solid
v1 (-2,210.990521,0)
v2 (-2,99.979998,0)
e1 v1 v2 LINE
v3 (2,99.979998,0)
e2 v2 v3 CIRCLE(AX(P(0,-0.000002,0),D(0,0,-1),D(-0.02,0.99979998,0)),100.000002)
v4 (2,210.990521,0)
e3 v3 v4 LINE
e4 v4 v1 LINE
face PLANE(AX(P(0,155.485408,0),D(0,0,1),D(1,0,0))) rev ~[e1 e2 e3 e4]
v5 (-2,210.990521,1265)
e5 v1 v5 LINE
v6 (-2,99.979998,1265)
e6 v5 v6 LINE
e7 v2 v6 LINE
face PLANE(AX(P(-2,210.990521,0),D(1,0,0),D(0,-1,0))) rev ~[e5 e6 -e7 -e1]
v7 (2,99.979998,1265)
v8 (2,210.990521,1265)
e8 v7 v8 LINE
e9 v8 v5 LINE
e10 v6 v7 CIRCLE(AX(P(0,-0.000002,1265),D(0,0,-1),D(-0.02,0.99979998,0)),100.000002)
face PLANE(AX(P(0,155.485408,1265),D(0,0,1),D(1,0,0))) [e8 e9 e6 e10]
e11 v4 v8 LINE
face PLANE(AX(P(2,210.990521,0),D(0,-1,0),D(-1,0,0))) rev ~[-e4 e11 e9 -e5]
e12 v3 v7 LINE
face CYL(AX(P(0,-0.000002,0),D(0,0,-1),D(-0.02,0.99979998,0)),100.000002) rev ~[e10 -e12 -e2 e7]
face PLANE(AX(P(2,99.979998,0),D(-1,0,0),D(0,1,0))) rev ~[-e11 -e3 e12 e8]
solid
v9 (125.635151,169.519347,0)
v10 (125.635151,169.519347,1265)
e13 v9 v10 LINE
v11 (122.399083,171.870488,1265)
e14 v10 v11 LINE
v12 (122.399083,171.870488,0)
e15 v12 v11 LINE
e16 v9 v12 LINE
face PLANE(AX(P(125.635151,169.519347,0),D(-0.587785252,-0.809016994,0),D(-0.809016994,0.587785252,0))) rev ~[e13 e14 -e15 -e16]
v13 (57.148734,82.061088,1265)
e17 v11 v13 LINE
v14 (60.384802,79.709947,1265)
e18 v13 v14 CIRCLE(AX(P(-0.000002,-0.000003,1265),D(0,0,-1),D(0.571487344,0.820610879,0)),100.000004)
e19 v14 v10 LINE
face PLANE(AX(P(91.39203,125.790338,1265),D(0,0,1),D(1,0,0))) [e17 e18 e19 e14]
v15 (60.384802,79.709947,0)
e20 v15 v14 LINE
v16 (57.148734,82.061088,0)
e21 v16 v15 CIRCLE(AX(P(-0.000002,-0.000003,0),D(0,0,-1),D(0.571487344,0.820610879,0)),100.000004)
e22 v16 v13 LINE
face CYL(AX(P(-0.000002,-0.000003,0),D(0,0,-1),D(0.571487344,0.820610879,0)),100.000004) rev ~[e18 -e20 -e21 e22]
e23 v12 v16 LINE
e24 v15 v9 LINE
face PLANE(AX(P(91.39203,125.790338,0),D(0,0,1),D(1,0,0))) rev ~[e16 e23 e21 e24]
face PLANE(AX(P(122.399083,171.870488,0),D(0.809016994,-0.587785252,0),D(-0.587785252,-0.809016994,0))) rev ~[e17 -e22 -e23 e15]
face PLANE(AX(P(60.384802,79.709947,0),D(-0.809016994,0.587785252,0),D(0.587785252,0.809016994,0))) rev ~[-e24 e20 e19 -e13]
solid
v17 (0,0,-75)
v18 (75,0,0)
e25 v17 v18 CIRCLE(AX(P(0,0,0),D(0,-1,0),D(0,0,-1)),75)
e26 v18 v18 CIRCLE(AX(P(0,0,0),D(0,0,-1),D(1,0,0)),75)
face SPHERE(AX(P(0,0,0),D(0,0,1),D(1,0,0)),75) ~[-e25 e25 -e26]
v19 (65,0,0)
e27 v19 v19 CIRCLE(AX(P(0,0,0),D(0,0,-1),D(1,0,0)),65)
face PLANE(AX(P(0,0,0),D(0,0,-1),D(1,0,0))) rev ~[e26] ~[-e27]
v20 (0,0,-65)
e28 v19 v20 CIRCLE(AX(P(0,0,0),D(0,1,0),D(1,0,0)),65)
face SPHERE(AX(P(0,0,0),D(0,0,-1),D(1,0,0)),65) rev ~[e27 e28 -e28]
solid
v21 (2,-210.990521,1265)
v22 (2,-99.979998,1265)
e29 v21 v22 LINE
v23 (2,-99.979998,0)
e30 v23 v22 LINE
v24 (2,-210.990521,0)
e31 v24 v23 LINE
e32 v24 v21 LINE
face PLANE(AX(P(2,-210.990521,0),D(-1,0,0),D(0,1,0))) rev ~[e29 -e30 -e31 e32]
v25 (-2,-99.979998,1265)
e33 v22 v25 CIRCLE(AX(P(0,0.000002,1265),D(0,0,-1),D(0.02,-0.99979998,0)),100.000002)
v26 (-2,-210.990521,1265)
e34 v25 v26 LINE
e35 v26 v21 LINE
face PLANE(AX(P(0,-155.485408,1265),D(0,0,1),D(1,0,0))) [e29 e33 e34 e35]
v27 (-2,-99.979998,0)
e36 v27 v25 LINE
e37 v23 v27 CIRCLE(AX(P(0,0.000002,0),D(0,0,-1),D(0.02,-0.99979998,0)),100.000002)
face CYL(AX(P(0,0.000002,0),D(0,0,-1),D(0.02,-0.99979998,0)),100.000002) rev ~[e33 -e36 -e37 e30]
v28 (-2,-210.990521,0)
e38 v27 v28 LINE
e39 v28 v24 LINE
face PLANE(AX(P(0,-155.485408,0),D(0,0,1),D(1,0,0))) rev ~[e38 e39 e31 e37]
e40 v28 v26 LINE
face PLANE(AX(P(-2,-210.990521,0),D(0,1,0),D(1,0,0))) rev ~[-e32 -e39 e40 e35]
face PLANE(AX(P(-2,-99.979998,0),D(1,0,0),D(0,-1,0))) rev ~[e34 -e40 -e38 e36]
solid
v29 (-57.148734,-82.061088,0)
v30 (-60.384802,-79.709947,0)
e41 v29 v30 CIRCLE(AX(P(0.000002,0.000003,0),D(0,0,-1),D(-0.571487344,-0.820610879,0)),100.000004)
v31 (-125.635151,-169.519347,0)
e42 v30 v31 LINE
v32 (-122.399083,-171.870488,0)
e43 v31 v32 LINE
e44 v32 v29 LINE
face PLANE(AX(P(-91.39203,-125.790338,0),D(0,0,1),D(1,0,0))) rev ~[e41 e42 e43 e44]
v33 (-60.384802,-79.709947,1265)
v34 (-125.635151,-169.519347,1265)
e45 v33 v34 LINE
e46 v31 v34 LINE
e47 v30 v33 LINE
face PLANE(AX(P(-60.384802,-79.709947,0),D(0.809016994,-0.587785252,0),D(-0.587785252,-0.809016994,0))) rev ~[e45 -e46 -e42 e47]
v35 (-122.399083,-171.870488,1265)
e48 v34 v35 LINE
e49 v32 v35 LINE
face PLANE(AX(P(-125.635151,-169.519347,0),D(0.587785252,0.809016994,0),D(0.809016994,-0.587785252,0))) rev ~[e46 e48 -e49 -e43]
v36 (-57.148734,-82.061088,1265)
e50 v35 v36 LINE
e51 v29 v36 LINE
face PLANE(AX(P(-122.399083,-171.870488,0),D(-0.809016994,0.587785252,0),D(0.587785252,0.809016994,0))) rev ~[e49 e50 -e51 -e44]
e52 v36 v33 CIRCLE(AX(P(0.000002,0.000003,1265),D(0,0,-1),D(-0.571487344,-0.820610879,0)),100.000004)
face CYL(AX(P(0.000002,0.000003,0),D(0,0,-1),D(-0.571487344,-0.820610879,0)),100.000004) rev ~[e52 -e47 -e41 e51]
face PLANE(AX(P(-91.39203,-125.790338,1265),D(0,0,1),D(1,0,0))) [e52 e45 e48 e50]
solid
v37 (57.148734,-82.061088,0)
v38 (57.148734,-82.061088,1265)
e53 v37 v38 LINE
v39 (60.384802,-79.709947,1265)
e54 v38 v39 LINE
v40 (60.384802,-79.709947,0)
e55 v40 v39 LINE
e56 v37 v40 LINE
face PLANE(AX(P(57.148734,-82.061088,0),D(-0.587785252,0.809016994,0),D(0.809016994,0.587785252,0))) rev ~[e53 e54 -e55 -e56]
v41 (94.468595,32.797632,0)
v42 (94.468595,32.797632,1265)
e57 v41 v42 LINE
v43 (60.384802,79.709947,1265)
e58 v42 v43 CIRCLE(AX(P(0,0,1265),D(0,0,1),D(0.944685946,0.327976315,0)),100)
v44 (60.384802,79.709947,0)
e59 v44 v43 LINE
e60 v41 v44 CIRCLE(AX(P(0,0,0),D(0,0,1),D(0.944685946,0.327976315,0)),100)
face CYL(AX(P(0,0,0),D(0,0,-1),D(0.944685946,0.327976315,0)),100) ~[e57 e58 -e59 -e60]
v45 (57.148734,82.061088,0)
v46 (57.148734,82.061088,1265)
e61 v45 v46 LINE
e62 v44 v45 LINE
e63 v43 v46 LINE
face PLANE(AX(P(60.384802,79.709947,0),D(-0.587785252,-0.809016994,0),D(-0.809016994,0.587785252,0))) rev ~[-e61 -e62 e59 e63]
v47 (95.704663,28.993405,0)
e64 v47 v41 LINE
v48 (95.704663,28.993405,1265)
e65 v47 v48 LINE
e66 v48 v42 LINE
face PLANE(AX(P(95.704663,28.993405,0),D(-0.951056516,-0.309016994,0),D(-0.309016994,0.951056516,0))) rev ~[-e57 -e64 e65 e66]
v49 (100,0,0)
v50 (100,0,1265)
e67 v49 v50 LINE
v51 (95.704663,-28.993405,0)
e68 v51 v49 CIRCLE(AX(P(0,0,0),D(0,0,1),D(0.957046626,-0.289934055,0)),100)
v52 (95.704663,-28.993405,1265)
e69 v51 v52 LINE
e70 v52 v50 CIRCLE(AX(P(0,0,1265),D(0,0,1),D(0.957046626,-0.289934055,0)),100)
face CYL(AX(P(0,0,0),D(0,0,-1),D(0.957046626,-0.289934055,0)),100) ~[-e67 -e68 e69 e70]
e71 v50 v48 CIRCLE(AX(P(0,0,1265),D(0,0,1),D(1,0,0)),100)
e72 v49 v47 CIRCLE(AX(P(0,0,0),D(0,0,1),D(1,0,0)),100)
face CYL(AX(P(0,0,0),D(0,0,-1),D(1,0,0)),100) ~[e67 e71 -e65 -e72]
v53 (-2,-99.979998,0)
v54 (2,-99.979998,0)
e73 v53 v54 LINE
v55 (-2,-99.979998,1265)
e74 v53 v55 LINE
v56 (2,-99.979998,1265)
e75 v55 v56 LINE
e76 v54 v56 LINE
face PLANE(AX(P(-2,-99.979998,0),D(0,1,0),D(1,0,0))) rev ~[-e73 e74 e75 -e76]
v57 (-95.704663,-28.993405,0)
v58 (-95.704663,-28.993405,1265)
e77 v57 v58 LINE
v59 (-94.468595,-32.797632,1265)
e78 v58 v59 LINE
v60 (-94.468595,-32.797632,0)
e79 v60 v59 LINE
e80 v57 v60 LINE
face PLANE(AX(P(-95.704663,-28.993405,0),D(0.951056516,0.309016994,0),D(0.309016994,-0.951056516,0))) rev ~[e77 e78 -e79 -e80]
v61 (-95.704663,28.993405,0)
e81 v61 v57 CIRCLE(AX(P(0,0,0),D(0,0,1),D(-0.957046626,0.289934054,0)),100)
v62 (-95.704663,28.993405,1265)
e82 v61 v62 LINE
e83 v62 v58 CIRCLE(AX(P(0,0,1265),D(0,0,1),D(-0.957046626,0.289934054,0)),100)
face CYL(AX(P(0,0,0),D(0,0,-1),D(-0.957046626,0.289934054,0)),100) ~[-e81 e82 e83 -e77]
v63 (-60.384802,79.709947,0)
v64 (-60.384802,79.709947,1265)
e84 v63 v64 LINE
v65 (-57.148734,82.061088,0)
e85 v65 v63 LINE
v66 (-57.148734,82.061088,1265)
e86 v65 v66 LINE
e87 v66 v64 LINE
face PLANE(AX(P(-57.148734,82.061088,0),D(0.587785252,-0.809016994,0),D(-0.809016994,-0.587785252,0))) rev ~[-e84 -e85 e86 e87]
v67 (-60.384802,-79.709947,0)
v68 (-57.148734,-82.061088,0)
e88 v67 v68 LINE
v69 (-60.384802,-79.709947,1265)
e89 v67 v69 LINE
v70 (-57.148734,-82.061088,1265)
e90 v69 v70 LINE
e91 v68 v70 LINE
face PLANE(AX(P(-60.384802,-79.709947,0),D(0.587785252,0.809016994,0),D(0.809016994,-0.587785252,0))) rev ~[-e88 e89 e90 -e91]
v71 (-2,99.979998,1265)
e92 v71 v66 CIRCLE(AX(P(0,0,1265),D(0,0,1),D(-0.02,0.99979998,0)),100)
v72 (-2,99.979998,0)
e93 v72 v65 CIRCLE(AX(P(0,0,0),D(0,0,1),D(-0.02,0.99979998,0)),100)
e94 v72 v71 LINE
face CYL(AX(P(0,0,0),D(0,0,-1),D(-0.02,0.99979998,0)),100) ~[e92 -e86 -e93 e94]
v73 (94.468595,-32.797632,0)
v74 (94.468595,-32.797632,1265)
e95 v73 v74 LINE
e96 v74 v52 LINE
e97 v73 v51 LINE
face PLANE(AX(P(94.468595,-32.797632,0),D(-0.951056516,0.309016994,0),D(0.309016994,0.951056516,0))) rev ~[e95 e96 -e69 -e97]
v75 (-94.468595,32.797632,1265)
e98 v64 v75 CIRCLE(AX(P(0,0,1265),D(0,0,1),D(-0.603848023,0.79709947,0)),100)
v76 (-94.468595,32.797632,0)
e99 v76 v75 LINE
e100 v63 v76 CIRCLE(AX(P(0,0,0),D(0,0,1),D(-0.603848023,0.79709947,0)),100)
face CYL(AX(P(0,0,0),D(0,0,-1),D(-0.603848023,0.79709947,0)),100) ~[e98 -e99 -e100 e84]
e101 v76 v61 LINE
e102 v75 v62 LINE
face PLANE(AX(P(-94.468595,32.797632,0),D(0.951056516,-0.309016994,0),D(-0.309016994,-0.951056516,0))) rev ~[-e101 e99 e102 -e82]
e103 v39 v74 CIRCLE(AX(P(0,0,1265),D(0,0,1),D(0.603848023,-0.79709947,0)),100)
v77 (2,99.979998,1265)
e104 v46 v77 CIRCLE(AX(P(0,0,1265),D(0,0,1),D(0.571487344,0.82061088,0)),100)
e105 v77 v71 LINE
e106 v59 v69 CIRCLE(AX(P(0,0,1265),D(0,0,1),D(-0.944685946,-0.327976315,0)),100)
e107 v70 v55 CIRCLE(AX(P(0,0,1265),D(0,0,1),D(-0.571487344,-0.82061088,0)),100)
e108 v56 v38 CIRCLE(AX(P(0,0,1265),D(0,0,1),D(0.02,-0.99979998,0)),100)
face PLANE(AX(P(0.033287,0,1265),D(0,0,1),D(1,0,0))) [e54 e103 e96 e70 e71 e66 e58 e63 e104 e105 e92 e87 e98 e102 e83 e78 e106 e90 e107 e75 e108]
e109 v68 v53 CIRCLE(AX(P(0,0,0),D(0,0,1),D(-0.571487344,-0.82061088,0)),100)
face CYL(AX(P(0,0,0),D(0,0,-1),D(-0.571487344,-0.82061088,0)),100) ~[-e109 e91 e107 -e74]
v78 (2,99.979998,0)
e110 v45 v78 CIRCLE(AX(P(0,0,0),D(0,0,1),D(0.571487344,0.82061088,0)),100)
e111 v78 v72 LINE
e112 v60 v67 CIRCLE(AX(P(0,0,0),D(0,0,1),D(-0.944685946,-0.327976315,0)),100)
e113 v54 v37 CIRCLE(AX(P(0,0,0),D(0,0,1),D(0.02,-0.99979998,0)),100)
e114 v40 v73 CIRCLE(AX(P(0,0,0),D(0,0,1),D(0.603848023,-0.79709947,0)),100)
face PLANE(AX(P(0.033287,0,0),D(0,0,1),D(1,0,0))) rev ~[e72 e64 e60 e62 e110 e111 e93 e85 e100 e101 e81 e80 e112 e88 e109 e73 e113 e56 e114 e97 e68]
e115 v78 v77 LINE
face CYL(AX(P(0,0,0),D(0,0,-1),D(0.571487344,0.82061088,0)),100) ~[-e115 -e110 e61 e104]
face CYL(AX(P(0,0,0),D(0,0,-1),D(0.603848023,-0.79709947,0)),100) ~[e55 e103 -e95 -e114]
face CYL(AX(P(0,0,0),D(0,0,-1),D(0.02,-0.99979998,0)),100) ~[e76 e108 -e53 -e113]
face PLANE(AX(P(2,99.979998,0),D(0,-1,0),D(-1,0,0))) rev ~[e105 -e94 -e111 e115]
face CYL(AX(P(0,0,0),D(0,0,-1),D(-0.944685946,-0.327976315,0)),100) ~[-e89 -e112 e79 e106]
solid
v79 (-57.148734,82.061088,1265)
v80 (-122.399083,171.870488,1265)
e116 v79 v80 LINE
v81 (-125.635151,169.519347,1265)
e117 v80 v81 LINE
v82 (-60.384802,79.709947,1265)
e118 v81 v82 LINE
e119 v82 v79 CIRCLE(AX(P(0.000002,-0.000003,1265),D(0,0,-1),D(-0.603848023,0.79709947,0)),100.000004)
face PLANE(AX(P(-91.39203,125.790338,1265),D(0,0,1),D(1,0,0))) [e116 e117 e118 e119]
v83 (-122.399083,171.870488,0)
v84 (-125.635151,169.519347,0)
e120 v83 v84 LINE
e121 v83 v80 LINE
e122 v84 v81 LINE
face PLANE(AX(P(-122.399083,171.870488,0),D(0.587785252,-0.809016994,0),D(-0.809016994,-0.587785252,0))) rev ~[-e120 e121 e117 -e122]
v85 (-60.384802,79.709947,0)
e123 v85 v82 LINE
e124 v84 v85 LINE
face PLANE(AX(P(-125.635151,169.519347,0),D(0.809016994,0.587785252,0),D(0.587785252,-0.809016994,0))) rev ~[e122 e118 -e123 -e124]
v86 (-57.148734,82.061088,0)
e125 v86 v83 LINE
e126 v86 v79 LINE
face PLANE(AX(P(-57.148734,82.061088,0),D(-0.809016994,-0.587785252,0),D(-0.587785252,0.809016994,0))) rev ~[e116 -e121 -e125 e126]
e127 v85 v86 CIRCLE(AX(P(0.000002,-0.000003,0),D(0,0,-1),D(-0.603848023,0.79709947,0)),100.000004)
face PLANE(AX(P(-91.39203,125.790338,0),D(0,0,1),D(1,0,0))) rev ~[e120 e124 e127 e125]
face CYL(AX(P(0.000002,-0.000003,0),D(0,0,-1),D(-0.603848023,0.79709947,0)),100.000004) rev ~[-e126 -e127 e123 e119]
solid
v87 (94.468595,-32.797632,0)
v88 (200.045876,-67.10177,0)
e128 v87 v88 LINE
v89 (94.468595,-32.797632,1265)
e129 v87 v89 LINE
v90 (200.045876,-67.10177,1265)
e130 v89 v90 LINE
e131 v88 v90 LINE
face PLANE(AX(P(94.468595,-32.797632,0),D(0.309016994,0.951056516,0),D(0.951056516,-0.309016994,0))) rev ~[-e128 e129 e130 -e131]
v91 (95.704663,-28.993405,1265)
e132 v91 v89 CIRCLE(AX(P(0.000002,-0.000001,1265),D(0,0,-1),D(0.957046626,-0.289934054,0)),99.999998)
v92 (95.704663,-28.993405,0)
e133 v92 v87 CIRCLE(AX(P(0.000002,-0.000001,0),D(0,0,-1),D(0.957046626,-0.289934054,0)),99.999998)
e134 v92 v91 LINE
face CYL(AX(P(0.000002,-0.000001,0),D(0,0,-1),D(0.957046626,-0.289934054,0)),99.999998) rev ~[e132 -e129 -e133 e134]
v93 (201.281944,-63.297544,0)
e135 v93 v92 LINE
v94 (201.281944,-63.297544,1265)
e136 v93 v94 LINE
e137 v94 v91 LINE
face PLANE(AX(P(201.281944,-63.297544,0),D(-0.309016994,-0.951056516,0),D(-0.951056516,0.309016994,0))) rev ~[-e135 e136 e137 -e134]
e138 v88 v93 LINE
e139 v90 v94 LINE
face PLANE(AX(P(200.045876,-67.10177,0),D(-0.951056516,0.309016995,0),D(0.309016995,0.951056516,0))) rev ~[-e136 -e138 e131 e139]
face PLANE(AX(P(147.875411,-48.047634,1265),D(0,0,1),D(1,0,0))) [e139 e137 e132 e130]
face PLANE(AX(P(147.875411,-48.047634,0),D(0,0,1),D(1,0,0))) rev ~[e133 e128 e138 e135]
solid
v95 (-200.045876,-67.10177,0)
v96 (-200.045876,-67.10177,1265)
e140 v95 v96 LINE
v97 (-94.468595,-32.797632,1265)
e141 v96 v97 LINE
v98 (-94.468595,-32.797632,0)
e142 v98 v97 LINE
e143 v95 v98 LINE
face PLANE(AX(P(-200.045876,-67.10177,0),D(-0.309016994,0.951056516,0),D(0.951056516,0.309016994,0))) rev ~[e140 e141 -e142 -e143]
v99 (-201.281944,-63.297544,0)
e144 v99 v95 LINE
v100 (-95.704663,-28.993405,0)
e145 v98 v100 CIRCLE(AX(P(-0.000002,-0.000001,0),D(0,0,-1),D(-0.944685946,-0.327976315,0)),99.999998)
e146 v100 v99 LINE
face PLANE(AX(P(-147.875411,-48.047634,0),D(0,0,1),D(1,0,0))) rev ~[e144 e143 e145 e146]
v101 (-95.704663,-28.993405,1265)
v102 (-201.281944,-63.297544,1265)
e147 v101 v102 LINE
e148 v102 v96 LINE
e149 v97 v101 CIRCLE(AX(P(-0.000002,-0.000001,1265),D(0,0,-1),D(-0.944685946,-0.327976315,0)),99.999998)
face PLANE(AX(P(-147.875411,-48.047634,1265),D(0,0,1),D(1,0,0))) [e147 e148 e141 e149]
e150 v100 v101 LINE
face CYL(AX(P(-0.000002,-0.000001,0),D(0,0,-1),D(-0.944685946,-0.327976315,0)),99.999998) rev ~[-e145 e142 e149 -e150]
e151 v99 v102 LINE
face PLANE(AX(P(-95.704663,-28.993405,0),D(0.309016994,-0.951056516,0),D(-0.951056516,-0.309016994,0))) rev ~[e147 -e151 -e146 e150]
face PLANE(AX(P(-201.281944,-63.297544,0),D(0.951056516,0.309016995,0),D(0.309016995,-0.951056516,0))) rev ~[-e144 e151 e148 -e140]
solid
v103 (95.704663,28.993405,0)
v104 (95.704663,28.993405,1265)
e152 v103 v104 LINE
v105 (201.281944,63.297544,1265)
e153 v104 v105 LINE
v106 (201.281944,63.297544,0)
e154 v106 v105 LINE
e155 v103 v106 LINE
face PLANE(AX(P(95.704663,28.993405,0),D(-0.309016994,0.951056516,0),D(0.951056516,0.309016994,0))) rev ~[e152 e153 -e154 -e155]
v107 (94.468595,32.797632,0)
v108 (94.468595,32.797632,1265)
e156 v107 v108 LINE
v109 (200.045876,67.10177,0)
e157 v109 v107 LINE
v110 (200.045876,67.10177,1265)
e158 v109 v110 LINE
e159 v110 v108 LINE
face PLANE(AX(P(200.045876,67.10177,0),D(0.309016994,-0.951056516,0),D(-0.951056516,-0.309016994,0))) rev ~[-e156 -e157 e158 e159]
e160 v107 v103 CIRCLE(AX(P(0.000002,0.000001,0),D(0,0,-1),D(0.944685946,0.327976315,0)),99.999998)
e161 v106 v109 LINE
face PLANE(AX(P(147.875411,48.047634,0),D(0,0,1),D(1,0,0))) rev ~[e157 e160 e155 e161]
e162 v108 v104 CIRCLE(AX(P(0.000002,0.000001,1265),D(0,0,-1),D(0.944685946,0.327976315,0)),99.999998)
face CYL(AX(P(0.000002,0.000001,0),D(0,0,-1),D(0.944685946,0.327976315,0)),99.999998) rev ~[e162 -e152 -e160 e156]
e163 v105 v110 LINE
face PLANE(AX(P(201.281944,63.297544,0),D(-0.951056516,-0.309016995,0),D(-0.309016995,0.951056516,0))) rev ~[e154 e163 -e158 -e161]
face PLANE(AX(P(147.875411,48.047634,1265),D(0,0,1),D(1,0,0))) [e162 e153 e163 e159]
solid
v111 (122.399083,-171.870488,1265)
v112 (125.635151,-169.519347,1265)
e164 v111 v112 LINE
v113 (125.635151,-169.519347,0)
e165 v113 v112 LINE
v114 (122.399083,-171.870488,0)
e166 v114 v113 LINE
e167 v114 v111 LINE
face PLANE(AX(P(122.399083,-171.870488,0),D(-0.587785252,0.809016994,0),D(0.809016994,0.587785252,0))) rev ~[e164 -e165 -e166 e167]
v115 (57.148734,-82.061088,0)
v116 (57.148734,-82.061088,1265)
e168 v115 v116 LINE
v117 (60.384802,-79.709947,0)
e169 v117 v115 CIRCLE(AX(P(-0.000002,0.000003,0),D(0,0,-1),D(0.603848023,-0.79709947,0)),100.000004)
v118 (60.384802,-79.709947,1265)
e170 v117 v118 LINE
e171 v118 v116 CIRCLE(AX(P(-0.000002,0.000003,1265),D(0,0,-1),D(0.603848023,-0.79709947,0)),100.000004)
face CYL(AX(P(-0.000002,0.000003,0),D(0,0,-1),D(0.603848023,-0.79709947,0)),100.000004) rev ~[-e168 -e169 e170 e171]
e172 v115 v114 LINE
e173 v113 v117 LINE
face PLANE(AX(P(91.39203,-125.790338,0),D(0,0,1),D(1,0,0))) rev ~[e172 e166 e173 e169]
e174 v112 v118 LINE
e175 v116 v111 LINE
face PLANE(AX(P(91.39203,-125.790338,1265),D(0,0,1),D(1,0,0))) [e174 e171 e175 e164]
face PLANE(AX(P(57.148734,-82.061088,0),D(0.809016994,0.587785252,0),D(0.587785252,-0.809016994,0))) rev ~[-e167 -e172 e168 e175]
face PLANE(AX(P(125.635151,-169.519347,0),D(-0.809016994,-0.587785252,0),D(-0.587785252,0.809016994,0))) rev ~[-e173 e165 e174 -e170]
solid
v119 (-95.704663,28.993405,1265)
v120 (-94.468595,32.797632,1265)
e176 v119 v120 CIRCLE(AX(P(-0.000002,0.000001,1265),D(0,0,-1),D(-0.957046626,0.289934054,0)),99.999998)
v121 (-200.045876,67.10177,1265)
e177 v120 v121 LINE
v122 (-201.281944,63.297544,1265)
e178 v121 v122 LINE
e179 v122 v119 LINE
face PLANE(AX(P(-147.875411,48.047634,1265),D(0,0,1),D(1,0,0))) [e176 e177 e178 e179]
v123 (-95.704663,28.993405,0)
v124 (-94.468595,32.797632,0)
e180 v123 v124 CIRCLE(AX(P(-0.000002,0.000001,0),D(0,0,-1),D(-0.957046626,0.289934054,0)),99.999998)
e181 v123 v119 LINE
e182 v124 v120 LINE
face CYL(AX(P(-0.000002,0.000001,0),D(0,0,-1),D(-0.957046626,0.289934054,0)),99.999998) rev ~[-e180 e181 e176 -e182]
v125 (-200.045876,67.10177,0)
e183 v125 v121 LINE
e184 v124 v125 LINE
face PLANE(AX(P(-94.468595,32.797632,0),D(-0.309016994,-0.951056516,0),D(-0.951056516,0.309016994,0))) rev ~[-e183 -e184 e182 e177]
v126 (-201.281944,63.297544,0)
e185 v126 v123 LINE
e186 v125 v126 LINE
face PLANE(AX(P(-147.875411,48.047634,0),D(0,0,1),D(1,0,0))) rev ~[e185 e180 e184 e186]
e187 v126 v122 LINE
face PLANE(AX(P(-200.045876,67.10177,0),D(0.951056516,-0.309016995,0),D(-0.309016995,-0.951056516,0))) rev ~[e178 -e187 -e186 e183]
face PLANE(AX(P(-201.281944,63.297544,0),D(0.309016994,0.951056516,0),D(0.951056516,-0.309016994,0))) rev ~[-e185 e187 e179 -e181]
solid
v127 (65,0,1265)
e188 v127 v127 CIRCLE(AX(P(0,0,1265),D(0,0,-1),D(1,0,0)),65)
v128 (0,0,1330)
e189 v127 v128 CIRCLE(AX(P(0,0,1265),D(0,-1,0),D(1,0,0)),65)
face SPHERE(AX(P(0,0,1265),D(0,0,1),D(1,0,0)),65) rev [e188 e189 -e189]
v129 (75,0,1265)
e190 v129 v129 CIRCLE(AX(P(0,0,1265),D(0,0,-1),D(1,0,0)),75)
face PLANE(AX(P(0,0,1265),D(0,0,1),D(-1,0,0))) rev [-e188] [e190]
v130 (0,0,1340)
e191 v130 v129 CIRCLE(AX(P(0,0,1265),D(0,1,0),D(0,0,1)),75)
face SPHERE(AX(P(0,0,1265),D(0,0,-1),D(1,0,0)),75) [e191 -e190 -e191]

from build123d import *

# Parameters (mm, degrees)
BOSS_EXTRUDE1_DEPTH    = 1265
BOSS_EXTRUDE1_2_DEPTH  = 1265
BOSS_EXTRUDE1_3_DEPTH  = 1265
BOSS_EXTRUDE1_4_DEPTH  = 1265
BOSS_EXTRUDE1_5_DEPTH  = 1265
BOSS_EXTRUDE1_6_DEPTH  = 1265
BOSS_EXTRUDE1_7_DEPTH  = 1265
BOSS_EXTRUDE1_8_DEPTH  = 1265
BOSS_EXTRUDE1_9_DEPTH  = 1265
BOSS_EXTRUDE1_10_DEPTH = 1265
BOSS_EXTRUDE1_11_DEPTH = 1265


with BuildPart() as part:
    # Sketch1 → Boss-Extrude1 (new body)
    with BuildSketch(Plane.XY):
        with BuildLine():
            ThreePointArc((-2, 99.979998), (0, 100), (2, 99.979998))
            Line((2, 99.979998), (2, 210.990521114))
            Line((2, 210.990521114), (-2, 210.990521114))
            Line((-2, 210.990521114), (-2, 99.979998))
        make_face()
    extrude(amount=BOSS_EXTRUDE1_DEPTH)


with BuildPart() as body_2:
    # Sketch1 → Boss-Extrude1 2 (new body)
    with BuildSketch(Plane.XY):
        with BuildLine():
            ThreePointArc((-60.384802337, 79.709946975), (-58.778525229, 80.901699437), (-57.14873436, 82.061087984))
            Line((-57.14873436, 82.061087984), (-122.399082696, 171.870487738))
            Line((-122.399082696, 171.870487738), (-125.635150673, 169.519346729))
            Line((-125.635150673, 169.519346729), (-60.384802337, 79.709946975))
        make_face()
    extrude(amount=BOSS_EXTRUDE1_2_DEPTH)


with BuildPart() as body_3:
    # Sketch1 → Boss-Extrude1 3 (new body)
    with BuildSketch(Plane.XY):
        with BuildLine():
            ThreePointArc((-95.704662585, 28.993405447), (-95.10565163, 30.901699437), (-94.468594608, 32.797631512))
            Line((-94.468594608, 32.797631512), (-200.045875993, 67.101769709))
            Line((-200.045875993, 67.101769709), (-201.281943971, 63.297543644))
            Line((-201.281943971, 63.297543644), (-95.704662585, 28.993405447))
        make_face()
    extrude(amount=BOSS_EXTRUDE1_3_DEPTH)


with BuildPart() as body_4:
    # Sketch1 → Boss-Extrude1 4 (new body)
    with BuildSketch(Plane.XY):
        with BuildLine():
            Line((122.399082696, 171.870487738), (57.14873436, 82.061087984))
            ThreePointArc((57.14873436, 82.061087984), (58.778525229, 80.901699437), (60.384802337, 79.709946975))
            Line((60.384802337, 79.709946975), (125.635150673, 169.519346729))
            Line((125.635150673, 169.519346729), (122.399082696, 171.870487738))
        make_face()
    extrude(amount=BOSS_EXTRUDE1_4_DEPTH)


with BuildPart() as body_5:
    # Sketch1 → Boss-Extrude1 5 (new body)
    with BuildSketch(Plane.XY):
        with BuildLine():
            Line((200.045875993, 67.101769709), (94.468594608, 32.797631512))
            ThreePointArc((94.468594608, 32.797631512), (95.10565163, 30.901699437), (95.704662585, 28.993405447))
            Line((95.704662585, 28.993405447), (201.281943971, 63.297543644))
            Line((201.281943971, 63.297543644), (200.045875993, 67.101769709))
        make_face()
    extrude(amount=BOSS_EXTRUDE1_5_DEPTH)


with BuildPart() as body_6:
    # Sketch1 → Boss-Extrude1 6 (new body)
    with BuildSketch(Plane.XY):
        with BuildLine():
            Line((201.281943971, -63.297543644), (95.704662585, -28.993405447))
            ThreePointArc((95.704662585, -28.993405447), (95.10565163, -30.901699437), (94.468594608, -32.797631512))
            Line((94.468594608, -32.797631512), (200.045875993, -67.101769709))
            Line((200.045875993, -67.101769709), (201.281943971, -63.297543644))
        make_face()
    extrude(amount=BOSS_EXTRUDE1_6_DEPTH)


with BuildPart() as body_7:
    # Sketch1 → Boss-Extrude1 7 (new body)
    with BuildSketch(Plane.XY):
        with BuildLine():
            Line((125.635150673, -169.519346729), (60.384802337, -79.709946975))
            ThreePointArc((60.384802337, -79.709946975), (58.778525229, -80.901699437), (57.14873436, -82.061087984))
            Line((57.14873436, -82.061087984), (122.399082696, -171.870487738))
            Line((122.399082696, -171.870487738), (125.635150673, -169.519346729))
        make_face()
    extrude(amount=BOSS_EXTRUDE1_7_DEPTH)


with BuildPart() as body_8:
    # Sketch1 → Boss-Extrude1 8 (new body)
    with BuildSketch(Plane.XY):
        with BuildLine():
            Line((2, -210.990521114), (2, -99.979998))
            ThreePointArc((2, -99.979998), (0, -100), (-2, -99.979998))
            Line((-2, -99.979998), (-2, -210.990521114))
            Line((-2, -210.990521114), (2, -210.990521114))
        make_face()
    extrude(amount=BOSS_EXTRUDE1_8_DEPTH)


with BuildPart() as body_9:
    # Sketch1 → Boss-Extrude1 9 (new body)
    with BuildSketch(Plane.XY):
        with BuildLine():
            ThreePointArc((-57.14873436, -82.061087984), (-58.778525229, -80.901699437), (-60.384802337, -79.709946975))
            Line((-60.384802337, -79.709946975), (-125.635150673, -169.519346729))
            Line((-125.635150673, -169.519346729), (-122.399082696, -171.870487738))
            Line((-122.399082696, -171.870487738), (-57.14873436, -82.061087984))
        make_face()
    extrude(amount=BOSS_EXTRUDE1_9_DEPTH)


with BuildPart() as body_10:
    # Sketch1 → Boss-Extrude1 10 (new body)
    with BuildSketch(Plane.XY):
        with BuildLine():
            ThreePointArc((-94.468594608, -32.797631512), (-95.10565163, -30.901699437), (-95.704662585, -28.993405447))
            Line((-95.704662585, -28.993405447), (-201.281943971, -63.297543644))
            Line((-201.281943971, -63.297543644), (-200.045875993, -67.101769709))
            Line((-200.045875993, -67.101769709), (-94.468594608, -32.797631512))
        make_face()
    extrude(amount=BOSS_EXTRUDE1_10_DEPTH)


with BuildPart() as body_11:
    # Sketch1 → Boss-Extrude1 11 (new body)
    with BuildSketch(Plane.XY):
        with BuildLine():
            Line((60.384802337, 79.709946975), (57.14873436, 82.061087984))
            ThreePointArc((57.14873436, 82.061087984), (30.901699437, 95.10565163), (2, 99.979998))
            Line((2, 99.979998), (-2, 99.979998))
            ThreePointArc((-2, 99.979998), (-30.901699437, 95.10565163), (-57.14873436, 82.061087984))
            Line((-57.14873436, 82.061087984), (-60.384802337, 79.709946975))
            ThreePointArc((-60.384802337, 79.709946975), (-80.901699437, 58.778525229), (-94.468594608, 32.797631512))
            Line((-94.468594608, 32.797631512), (-95.704662585, 28.993405447))
            ThreePointArc((-95.704662585, 28.993405447), (-100, 0), (-95.704662585, -28.993405447))
            Line((-95.704662585, -28.993405447), (-94.468594608, -32.797631512))
            ThreePointArc((-94.468594608, -32.797631512), (-80.901699437, -58.778525229), (-60.384802337, -79.709946975))
            Line((-60.384802337, -79.709946975), (-57.14873436, -82.061087984))
            ThreePointArc((-57.14873436, -82.061087984), (-30.901699437, -95.10565163), (-2, -99.979998))
            Line((-2, -99.979998), (2, -99.979998))
            ThreePointArc((2, -99.979998), (30.901699437, -95.10565163), (57.14873436, -82.061087984))
            Line((57.14873436, -82.061087984), (60.384802337, -79.709946975))
            ThreePointArc((60.384802337, -79.709946975), (80.901699437, -58.778525229), (94.468594608, -32.797631512))
            Line((94.468594608, -32.797631512), (95.704662585, -28.993405447))
            ThreePointArc((95.704662585, -28.993405447), (98.920337289, -14.6549265), (100, 0))
            ThreePointArc((100, 0), (98.920337289, 14.6549265), (95.704662585, 28.993405447))
            Line((95.704662585, 28.993405447), (94.468594608, 32.797631512))
            ThreePointArc((94.468594608, 32.797631512), (80.901699437, 58.778525229), (60.384802337, 79.709946975))
        make_face()
    extrude(amount=BOSS_EXTRUDE1_11_DEPTH)


with BuildPart() as body_12:
    # Sketch2 → Revolve-Thin1 (revolve)
    with BuildSketch(Plane(origin=(0, 0, 0), x_dir=(1, 0, 0), z_dir=(0, 1, 0))):
        with BuildLine():
            ThreePointArc((65, 0), (45.961940777, 45.961940777), (0, 65))
            Line((0, 65), (0, 75))
            ThreePointArc((0, 75), (53.033008589, 53.033008589), (75, 0))
            Line((75, 0), (65, 0))
        make_face()
    revolve(axis=Axis((0, 0, 0), (0, 0, -1)))


with BuildPart() as body_13:
    # Mirror2: mirrored copy
    add(body_12.part.mirror(Plane(origin=(0, 0, 632.5), x_dir=(1, 0, 0), z_dir=(0, 0, -1))))


solid = Compound([part.part, body_2.part, body_3.part, body_4.part, body_5.part, body_6.part, body_7.part, body_8.part, body_9.part, body_10.part, body_11.part, body_12.part, body_13.part])
